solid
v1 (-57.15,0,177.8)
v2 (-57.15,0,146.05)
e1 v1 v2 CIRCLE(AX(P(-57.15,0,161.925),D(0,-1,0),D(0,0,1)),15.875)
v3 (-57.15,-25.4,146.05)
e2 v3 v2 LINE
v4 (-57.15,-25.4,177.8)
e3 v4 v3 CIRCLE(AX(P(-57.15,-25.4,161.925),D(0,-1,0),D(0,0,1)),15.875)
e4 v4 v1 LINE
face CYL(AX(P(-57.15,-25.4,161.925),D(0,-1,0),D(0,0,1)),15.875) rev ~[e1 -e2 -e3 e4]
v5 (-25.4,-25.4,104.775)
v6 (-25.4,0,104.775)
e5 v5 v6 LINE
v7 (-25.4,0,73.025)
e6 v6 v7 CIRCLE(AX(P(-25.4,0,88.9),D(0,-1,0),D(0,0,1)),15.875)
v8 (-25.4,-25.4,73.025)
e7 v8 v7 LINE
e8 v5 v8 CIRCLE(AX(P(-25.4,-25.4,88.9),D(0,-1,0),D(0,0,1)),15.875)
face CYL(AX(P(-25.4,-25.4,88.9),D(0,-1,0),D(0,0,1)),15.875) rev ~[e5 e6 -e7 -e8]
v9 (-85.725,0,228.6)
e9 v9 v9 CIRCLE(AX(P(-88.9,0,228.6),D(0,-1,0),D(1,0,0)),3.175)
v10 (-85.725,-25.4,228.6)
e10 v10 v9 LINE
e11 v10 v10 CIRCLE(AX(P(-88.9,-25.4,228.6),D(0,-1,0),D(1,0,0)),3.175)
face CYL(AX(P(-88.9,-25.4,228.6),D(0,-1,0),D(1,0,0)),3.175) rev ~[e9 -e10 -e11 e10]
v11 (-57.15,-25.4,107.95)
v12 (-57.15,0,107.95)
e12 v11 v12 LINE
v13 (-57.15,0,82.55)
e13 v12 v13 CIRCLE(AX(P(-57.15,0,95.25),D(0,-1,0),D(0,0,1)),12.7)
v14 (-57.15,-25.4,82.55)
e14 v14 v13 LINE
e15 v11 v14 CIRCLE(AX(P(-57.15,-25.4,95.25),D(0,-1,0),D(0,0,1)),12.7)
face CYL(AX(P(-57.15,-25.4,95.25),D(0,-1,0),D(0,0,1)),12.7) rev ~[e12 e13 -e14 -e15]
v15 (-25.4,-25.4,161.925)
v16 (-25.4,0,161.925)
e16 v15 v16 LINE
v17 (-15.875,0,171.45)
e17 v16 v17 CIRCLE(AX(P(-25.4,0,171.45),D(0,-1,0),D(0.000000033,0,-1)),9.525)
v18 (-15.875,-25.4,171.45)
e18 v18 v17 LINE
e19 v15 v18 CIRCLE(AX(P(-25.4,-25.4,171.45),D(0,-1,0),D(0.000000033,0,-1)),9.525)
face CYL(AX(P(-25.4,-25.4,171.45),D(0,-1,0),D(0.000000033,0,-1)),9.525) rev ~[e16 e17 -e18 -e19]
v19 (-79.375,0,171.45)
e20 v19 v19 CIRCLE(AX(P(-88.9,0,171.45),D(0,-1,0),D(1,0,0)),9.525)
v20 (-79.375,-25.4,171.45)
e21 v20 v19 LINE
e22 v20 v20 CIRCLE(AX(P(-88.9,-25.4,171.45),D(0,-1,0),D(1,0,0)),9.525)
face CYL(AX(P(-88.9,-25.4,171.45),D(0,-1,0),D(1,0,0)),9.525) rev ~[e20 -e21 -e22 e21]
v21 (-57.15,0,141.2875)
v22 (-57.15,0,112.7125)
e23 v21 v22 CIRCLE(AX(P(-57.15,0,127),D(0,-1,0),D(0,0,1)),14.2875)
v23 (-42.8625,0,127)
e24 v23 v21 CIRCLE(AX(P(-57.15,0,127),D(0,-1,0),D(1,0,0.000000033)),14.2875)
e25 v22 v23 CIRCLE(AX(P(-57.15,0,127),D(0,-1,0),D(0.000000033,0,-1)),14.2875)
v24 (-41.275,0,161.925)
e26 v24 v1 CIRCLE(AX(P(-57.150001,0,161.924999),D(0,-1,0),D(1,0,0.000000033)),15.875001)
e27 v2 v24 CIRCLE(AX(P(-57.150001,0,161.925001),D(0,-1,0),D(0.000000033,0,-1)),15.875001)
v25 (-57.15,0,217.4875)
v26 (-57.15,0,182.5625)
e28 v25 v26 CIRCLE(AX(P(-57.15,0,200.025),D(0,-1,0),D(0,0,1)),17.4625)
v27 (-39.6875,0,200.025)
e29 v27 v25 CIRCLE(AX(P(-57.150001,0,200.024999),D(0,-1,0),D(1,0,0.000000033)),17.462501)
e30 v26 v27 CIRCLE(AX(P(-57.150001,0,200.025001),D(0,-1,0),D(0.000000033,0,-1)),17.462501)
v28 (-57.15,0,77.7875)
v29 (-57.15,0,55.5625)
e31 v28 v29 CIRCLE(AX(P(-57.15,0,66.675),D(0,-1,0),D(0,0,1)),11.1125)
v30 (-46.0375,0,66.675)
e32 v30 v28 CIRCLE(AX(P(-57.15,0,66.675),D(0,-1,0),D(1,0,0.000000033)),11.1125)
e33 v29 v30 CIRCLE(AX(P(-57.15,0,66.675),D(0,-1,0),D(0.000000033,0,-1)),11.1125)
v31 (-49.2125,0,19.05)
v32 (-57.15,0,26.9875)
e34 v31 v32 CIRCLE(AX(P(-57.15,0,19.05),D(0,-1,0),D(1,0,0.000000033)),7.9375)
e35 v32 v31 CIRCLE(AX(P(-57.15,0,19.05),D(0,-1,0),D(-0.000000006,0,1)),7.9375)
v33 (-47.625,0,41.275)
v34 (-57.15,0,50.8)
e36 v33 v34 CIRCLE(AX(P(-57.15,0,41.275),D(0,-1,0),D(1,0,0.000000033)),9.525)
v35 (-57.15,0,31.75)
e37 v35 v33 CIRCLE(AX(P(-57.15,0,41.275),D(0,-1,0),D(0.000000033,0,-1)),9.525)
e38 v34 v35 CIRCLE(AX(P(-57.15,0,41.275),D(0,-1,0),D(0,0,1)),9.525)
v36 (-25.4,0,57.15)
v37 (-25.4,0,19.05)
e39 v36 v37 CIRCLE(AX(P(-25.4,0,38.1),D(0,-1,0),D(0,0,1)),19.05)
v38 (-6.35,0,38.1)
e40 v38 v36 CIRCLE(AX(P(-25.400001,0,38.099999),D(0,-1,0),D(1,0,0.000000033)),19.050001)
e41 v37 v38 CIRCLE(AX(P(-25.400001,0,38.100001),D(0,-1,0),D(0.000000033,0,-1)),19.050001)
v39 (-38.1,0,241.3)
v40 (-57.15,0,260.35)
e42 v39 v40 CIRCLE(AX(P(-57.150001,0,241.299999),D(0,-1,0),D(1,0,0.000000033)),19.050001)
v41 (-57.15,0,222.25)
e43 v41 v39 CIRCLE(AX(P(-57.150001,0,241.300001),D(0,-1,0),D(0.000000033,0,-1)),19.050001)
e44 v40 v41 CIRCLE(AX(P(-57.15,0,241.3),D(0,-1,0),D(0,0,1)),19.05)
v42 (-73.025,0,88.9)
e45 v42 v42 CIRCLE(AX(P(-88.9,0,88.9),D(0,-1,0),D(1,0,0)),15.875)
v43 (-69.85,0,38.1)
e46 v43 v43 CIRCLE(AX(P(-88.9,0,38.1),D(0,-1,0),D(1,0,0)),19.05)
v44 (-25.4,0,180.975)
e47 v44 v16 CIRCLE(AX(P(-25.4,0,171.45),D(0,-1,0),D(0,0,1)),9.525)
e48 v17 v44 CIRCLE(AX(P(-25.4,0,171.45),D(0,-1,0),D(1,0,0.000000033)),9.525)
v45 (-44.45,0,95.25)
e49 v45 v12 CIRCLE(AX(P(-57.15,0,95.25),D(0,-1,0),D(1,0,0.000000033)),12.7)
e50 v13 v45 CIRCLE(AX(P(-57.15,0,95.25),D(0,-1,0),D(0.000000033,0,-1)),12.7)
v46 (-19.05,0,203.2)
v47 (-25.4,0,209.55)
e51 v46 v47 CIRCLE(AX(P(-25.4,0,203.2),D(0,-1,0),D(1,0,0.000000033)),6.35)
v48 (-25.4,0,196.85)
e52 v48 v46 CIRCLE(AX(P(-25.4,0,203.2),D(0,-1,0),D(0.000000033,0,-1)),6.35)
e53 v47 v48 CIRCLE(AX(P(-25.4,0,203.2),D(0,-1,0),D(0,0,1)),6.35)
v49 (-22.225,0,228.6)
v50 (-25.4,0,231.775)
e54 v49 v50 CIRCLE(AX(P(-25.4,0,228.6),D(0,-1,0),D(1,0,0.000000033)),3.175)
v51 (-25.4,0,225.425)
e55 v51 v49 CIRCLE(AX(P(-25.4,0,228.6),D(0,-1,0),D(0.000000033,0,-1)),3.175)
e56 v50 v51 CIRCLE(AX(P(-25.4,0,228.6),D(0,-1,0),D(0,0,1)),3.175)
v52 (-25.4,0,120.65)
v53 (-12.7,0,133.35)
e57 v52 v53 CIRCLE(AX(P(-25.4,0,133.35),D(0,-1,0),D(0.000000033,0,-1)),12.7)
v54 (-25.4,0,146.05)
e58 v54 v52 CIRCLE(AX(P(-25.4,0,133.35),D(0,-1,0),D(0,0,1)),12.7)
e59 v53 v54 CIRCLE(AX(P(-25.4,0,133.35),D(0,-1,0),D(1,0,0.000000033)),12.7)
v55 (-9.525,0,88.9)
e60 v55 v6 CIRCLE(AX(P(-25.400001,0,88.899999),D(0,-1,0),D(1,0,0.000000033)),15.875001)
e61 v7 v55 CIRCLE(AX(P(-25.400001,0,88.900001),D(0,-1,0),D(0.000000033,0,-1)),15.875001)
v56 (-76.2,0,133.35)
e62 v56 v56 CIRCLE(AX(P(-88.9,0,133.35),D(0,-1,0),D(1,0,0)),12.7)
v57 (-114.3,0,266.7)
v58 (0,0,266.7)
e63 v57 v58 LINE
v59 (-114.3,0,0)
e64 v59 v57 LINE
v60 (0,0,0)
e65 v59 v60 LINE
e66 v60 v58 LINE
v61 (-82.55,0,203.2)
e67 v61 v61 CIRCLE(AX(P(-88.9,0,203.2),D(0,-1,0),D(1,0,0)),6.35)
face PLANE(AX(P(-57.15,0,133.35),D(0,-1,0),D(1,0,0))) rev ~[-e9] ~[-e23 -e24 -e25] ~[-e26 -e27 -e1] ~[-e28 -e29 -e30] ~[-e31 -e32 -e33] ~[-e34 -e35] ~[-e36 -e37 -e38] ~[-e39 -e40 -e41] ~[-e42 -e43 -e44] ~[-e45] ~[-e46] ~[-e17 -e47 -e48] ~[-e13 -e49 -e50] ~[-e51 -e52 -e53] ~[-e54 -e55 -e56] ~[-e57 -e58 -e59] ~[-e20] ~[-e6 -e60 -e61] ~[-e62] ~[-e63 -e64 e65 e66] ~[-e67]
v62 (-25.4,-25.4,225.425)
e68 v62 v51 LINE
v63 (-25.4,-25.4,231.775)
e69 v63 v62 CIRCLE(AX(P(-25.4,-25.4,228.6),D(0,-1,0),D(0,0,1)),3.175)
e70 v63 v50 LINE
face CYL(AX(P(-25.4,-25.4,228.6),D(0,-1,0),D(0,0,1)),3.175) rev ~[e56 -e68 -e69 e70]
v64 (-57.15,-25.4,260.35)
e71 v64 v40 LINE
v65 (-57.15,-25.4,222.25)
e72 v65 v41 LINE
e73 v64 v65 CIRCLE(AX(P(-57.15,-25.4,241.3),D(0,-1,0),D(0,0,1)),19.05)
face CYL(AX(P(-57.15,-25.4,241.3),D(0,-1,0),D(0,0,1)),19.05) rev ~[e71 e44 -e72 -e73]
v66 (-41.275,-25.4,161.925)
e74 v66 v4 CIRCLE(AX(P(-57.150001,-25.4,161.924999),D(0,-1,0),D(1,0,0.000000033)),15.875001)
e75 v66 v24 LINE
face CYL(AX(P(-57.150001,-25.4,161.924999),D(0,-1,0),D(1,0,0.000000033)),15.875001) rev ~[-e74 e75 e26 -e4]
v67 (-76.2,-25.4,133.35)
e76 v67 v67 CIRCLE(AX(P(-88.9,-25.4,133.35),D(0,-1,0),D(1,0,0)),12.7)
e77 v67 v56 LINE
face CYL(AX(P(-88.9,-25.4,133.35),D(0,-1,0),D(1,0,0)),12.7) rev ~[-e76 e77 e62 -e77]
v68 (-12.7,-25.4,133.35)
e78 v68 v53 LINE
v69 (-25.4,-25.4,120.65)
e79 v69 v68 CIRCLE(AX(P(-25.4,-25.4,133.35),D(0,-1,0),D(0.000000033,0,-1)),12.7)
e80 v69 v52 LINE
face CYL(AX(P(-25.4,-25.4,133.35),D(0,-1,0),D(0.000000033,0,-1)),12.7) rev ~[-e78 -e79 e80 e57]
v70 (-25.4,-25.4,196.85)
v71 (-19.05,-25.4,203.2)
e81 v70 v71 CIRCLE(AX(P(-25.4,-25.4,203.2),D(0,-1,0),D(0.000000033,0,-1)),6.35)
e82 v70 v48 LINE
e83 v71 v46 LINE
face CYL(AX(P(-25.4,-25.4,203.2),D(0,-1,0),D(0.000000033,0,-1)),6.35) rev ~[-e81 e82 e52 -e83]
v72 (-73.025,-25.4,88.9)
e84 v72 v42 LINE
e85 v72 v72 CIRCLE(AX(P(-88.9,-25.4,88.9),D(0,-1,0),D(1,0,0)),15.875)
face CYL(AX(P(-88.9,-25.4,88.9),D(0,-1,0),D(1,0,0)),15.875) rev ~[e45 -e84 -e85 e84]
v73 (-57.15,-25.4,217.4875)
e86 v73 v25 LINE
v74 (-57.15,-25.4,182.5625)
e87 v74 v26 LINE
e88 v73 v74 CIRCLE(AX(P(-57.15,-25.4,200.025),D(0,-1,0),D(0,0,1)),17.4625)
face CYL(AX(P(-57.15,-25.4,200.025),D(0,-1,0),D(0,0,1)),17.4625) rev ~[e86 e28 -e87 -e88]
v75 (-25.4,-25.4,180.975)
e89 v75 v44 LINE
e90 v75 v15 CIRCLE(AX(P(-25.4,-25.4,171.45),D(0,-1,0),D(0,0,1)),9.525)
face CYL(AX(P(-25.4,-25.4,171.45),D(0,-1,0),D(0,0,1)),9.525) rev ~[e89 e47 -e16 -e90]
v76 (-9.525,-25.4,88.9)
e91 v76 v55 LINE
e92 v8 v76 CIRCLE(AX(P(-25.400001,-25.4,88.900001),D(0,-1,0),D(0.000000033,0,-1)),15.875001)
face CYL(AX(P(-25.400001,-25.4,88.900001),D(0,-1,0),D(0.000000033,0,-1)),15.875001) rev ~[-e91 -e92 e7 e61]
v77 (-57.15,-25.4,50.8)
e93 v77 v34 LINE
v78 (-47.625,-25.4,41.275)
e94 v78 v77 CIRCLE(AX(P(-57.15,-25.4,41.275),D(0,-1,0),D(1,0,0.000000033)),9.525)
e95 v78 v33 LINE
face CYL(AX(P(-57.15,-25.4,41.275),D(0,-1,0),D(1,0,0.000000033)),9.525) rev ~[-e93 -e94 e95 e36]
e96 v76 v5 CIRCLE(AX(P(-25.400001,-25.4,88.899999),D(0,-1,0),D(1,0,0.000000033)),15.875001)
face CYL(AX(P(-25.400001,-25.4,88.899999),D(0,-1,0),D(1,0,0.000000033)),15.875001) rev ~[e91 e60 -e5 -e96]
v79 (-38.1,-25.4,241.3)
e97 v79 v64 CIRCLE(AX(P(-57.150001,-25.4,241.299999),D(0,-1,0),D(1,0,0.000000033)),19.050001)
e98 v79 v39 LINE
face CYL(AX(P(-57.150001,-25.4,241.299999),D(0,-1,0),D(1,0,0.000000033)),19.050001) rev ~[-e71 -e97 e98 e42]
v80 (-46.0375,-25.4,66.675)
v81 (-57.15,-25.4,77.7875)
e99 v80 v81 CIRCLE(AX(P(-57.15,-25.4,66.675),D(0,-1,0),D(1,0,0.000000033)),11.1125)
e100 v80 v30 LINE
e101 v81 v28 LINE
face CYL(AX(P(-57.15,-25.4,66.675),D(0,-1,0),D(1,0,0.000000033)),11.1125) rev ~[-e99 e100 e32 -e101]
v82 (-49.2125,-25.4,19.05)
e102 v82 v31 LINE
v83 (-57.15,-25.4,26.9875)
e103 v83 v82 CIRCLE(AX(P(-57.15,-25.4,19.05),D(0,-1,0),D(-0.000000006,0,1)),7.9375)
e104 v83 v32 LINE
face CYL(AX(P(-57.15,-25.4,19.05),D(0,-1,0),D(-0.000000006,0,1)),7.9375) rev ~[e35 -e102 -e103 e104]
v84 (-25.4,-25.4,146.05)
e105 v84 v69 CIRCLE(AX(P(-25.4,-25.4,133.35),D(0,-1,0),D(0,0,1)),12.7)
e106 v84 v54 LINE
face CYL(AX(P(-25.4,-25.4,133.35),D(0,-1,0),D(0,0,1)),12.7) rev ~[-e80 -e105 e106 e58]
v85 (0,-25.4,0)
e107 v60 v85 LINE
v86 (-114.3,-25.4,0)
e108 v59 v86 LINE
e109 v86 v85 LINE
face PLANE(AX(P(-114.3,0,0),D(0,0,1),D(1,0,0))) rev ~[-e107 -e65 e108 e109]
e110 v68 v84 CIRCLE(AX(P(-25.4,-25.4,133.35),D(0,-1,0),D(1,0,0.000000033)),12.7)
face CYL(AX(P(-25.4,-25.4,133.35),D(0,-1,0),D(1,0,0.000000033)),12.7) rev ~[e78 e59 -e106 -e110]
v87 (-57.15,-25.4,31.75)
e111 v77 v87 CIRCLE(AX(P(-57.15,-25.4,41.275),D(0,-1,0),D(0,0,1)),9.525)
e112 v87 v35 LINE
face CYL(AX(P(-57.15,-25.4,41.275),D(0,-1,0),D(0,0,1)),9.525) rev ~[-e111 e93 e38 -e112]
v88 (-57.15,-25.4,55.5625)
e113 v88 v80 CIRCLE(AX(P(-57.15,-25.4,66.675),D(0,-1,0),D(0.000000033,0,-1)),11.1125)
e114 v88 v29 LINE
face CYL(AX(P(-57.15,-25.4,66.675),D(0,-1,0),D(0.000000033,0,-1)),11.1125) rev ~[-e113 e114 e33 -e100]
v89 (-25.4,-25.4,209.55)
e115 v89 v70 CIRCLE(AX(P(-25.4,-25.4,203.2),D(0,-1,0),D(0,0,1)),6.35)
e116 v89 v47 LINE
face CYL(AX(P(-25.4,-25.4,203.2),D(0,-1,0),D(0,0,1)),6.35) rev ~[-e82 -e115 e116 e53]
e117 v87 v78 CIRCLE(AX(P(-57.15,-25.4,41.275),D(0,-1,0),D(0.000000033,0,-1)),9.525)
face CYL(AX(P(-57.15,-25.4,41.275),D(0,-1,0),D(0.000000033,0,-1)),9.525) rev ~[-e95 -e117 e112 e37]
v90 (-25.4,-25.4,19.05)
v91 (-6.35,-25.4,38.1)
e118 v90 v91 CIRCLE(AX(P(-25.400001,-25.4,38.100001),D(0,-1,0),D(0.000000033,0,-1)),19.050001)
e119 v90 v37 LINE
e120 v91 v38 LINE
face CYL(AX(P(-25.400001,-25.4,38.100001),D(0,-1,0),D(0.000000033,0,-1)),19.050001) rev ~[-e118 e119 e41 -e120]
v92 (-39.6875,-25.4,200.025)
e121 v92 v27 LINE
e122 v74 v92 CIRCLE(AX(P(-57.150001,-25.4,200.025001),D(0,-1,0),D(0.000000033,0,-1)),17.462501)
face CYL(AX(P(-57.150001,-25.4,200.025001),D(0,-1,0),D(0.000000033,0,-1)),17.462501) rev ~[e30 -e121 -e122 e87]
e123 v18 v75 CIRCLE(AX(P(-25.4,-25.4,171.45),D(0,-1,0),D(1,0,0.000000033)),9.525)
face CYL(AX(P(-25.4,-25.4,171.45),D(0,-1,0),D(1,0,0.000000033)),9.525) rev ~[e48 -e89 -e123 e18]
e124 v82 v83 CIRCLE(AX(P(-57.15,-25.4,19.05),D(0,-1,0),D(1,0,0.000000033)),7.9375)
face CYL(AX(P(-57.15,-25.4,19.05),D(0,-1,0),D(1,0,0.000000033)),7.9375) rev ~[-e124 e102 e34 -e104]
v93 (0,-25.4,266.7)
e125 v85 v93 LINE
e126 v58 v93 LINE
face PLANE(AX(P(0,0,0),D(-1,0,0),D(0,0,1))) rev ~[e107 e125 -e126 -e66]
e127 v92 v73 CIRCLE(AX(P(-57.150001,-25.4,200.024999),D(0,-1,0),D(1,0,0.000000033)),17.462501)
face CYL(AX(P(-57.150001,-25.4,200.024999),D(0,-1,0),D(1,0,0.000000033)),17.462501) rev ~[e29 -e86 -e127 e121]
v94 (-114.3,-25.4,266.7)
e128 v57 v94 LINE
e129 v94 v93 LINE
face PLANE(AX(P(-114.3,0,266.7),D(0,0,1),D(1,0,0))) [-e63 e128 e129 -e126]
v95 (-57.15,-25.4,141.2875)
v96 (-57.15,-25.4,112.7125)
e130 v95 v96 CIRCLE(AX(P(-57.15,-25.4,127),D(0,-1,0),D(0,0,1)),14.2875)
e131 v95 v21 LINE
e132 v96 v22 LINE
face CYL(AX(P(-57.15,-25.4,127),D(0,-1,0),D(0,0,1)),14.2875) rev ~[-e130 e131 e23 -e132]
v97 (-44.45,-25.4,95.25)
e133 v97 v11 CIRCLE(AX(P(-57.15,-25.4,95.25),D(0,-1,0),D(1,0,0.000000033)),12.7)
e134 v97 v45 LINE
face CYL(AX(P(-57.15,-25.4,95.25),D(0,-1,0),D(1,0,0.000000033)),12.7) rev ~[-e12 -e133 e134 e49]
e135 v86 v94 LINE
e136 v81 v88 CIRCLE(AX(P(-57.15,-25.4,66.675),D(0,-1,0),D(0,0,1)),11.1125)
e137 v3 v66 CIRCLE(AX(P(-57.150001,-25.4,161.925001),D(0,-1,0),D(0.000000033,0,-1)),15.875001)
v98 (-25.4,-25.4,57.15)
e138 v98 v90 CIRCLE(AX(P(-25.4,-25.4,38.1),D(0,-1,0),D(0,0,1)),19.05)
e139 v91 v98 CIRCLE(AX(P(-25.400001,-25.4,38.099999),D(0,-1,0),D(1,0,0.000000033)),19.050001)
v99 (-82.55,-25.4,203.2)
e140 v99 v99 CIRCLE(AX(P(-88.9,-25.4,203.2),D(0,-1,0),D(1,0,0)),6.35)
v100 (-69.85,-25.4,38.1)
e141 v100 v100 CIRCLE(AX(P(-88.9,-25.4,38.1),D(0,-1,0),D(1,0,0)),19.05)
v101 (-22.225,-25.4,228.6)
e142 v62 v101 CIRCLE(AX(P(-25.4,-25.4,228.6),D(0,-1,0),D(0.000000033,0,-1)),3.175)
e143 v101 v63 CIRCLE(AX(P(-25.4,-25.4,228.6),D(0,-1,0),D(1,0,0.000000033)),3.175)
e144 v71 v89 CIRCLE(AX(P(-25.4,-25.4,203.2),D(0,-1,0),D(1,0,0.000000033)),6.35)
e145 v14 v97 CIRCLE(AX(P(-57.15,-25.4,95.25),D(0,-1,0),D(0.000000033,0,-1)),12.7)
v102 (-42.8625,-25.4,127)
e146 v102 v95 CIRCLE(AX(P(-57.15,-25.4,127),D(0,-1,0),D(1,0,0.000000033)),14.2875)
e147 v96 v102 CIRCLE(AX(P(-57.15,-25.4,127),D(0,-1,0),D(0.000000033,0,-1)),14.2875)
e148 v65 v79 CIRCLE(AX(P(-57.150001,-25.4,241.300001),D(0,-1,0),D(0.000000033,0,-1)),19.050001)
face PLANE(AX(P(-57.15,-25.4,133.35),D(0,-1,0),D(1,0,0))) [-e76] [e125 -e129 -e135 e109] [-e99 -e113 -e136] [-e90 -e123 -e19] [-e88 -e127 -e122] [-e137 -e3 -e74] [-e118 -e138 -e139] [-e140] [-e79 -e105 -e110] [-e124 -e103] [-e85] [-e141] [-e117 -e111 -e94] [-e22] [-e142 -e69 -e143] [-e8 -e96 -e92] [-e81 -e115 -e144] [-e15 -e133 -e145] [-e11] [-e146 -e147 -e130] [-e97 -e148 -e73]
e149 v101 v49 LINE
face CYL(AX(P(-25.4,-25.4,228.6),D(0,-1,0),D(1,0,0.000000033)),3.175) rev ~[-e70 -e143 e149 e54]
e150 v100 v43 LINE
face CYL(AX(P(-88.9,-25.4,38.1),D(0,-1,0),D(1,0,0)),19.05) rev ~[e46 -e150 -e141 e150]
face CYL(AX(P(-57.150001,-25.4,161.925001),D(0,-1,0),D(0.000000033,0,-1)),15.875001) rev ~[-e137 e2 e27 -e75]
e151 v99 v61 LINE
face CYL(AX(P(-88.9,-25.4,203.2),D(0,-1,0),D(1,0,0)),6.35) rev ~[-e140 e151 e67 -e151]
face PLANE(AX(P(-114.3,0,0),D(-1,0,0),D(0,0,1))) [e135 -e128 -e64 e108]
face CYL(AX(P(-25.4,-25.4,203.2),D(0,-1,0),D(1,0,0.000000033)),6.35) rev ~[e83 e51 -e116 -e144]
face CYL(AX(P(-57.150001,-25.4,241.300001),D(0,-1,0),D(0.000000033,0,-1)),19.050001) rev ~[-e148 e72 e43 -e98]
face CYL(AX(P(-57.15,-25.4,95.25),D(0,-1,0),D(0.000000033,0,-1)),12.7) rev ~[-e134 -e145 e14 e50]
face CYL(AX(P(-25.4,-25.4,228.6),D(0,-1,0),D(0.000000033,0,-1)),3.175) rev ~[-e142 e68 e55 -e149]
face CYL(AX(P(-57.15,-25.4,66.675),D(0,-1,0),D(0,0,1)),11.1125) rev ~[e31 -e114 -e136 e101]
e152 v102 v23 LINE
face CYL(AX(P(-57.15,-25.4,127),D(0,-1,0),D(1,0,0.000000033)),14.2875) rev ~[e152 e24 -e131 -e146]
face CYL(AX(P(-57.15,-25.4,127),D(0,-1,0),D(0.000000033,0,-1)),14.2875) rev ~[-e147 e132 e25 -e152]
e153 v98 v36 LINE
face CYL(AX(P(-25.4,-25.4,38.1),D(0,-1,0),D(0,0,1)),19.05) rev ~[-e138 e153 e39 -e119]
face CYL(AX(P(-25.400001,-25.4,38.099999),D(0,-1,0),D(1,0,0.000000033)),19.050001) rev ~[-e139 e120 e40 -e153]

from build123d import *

# Parameters (mm, degrees)
F0_W     = 114.3
F0_H     = 266.7
F1_DEPTH = 25.4
F2_R     = 3.175
F2_R_2   = 6.35
F2_R_3   = 9.525
F2_R_4   = 12.7
F2_R_5   = 15.875
F2_R_6   = 19.05
F3_DEPTH = 25.4
F5_DEPTH = 25.4


with BuildPart() as f1:
    # F0 (on Front) → F1 (new body)
    with BuildSketch(Plane.XZ):
        with Locations((-57.15, 133.35)):
            Rectangle(F0_W, F0_H)
    extrude(amount=F1_DEPTH)

    # F2 (on face) → F3 (cut)
    with BuildSketch(Plane.XZ.offset(25.4)):
        with BuildLine():
            ThreePointArc((-25.4, 57.15), (-44.45, 38.1), (-25.4, 19.05))
            Line((-25.4, 19.05), (-25.4, 38.1))
            Line((-25.4, 38.1), (-25.4, 57.15))
        make_face()
        with BuildLine():
            ThreePointArc((-25.4, 231.775), (-28.575, 228.6), (-25.4, 225.425))
            Line((-25.4, 225.425), (-25.4, 228.6))
            Line((-25.4, 228.6), (-25.4, 231.775))
        make_face()
        with BuildLine():
            Line((-25.4, 228.6), (-25.4, 225.425))
            ThreePointArc((-25.4, 225.425), (-23.154936, 226.354936), (-22.225, 228.6))
            ThreePointArc((-22.225, 228.6), (-23.154936, 230.845064), (-25.4, 231.775))
            Line((-25.4, 231.775), (-25.4, 228.6))
        make_face()
        with BuildLine():
            ThreePointArc((-25.4, 209.55), (-31.75, 203.2), (-25.4, 196.85))
            Line((-25.4, 196.85), (-25.4, 203.2))
            Line((-25.4, 203.2), (-25.4, 209.55))
        make_face()
        with BuildLine():
            Line((-25.4, 203.2), (-25.4, 196.85))
            ThreePointArc((-25.4, 196.85), (-20.909872, 198.709872), (-19.05, 203.2))
            ThreePointArc((-19.05, 203.2), (-20.909872, 207.690128), (-25.4, 209.55))
            Line((-25.4, 209.55), (-25.4, 203.2))
        make_face()
        with BuildLine():
            ThreePointArc((-25.4, 180.975), (-34.925, 171.45), (-25.4, 161.925))
            Line((-25.4, 161.925), (-25.4, 171.45))
            Line((-25.4, 171.45), (-25.4, 180.975))
        make_face()
        with BuildLine():
            Line((-25.4, 171.45), (-25.4, 161.925))
            ThreePointArc((-25.4, 161.925), (-18.664808, 164.714808), (-15.875, 171.45))
            ThreePointArc((-15.875, 171.45), (-18.664808, 178.185192), (-25.4, 180.975))
            Line((-25.4, 180.975), (-25.4, 171.45))
        make_face()
        with BuildLine():
            ThreePointArc((-25.4, 146.05), (-38.1, 133.35), (-25.4, 120.65))
            Line((-25.4, 120.65), (-25.4, 133.35))
            Line((-25.4, 133.35), (-25.4, 146.05))
        make_face()
        with BuildLine():
            Line((-25.4, 133.35), (-25.4, 120.65))
            ThreePointArc((-25.4, 120.65), (-16.419744, 124.369744), (-12.7, 133.35))
            ThreePointArc((-12.7, 133.35), (-16.419744, 142.330256), (-25.4, 146.05))
            Line((-25.4, 146.05), (-25.4, 133.35))
        make_face()
        with BuildLine():
            ThreePointArc((-25.4, 104.775), (-41.275, 88.9), (-25.4, 73.025))
            Line((-25.4, 73.025), (-25.4, 88.9))
            Line((-25.4, 88.9), (-25.4, 104.775))
        make_face()
        with BuildLine():
            Line((-25.4, 88.9), (-25.4, 73.025))
            ThreePointArc((-25.4, 73.025), (-14.17468, 77.67468), (-9.525, 88.9))
            ThreePointArc((-9.525, 88.9), (-14.17468, 100.12532), (-25.4, 104.775))
            Line((-25.4, 104.775), (-25.4, 88.9))
        make_face()
        with BuildLine():
            Line((-25.4, 38.1), (-25.4, 19.05))
            ThreePointArc((-25.4, 19.05), (-11.929616, 24.629616), (-6.35, 38.1))
            ThreePointArc((-6.35, 38.1), (-11.929616, 51.570384), (-25.4, 57.15))
            Line((-25.4, 57.15), (-25.4, 38.1))
        make_face()
        with Locations((-88.9, 228.6)):
            Circle(F2_R)
        with Locations((-88.9, 203.2)):
            Circle(F2_R_2)
        with Locations((-88.9, 171.45)):
            Circle(F2_R_3)
        with Locations((-88.9, 133.35)):
            Circle(F2_R_4)
        with Locations((-88.9, 88.9)):
            Circle(F2_R_5)
        with Locations((-88.9, 38.1)):
            Circle(F2_R_6)
    extrude(amount=-F3_DEPTH, mode=Mode.SUBTRACT)

    # F4 (on face) → F5 (cut)
    with BuildSketch(Plane.XZ.offset(25.4)):
        with BuildLine():
            ThreePointArc((-57.15, 260.35), (-76.2, 241.3), (-57.15, 222.25))
            Line((-57.15, 222.25), (-57.15, 241.3))
            Line((-57.15, 241.3), (-57.15, 260.35))
        make_face()
        with BuildLine():
            Line((-57.15, 241.3), (-57.15, 222.25))
            ThreePointArc((-57.15, 222.25), (-43.679616, 227.829616), (-38.1, 241.3))
            ThreePointArc((-38.1, 241.3), (-43.679616, 254.770384), (-57.15, 260.35))
            Line((-57.15, 260.35), (-57.15, 241.3))
        make_face()
        with BuildLine():
            ThreePointArc((-57.15, 217.4875), (-74.6125, 200.025), (-57.15, 182.5625))
            Line((-57.15, 182.5625), (-57.15, 200.025))
            Line((-57.15, 200.025), (-57.15, 217.4875))
        make_face()
        with BuildLine():
            Line((-57.15, 200.025), (-57.15, 182.5625))
            ThreePointArc((-57.15, 182.5625), (-44.802148, 187.677148), (-39.6875, 200.025))
            ThreePointArc((-39.6875, 200.025), (-44.802148, 212.372852), (-57.15, 217.4875))
            Line((-57.15, 217.4875), (-57.15, 200.025))
        make_face()
        with BuildLine():
            ThreePointArc((-57.15, 177.8), (-73.025, 161.925), (-57.15, 146.05))
            Line((-57.15, 146.05), (-57.15, 161.925))
            Line((-57.15, 161.925), (-57.15, 177.8))
        make_face()
        with BuildLine():
            Line((-57.15, 161.925), (-57.15, 146.05))
            ThreePointArc((-57.15, 146.05), (-45.92468, 150.69968), (-41.275, 161.925))
            ThreePointArc((-41.275, 161.925), (-45.92468, 173.15032), (-57.15, 177.8))
            Line((-57.15, 177.8), (-57.15, 161.925))
        make_face()
        with BuildLine():
            ThreePointArc((-57.15, 141.2875), (-71.4375, 127), (-57.15, 112.7125))
            Line((-57.15, 112.7125), (-57.15, 127))
            Line((-57.15, 127), (-57.15, 141.2875))
        make_face()
        with BuildLine():
            Line((-57.15, 127), (-57.15, 112.7125))
            ThreePointArc((-57.15, 112.7125), (-47.047212, 116.897212), (-42.8625, 127))
            ThreePointArc((-42.8625, 127), (-47.047212, 137.102788), (-57.15, 141.2875))
            Line((-57.15, 141.2875), (-57.15, 127))
        make_face()
        with BuildLine():
            ThreePointArc((-57.15, 107.95), (-69.85, 95.25), (-57.15, 82.55))
            Line((-57.15, 82.55), (-57.15, 95.25))
            Line((-57.15, 95.25), (-57.15, 107.95))
        make_face()
        with BuildLine():
            Line((-57.15, 95.25), (-57.15, 82.55))
            ThreePointArc((-57.15, 82.55), (-48.169744, 86.269744), (-44.45, 95.25))
            ThreePointArc((-44.45, 95.25), (-48.169744, 104.230256), (-57.15, 107.95))
            Line((-57.15, 107.95), (-57.15, 95.25))
        make_face()
        with BuildLine():
            ThreePointArc((-57.15, 77.7875), (-68.2625, 66.675), (-57.15, 55.5625))
            Line((-57.15, 55.5625), (-57.15, 66.675))
            Line((-57.15, 66.675), (-57.15, 77.7875))
        make_face()
        with BuildLine():
            Line((-57.15, 66.675), (-57.15, 55.5625))
            ThreePointArc((-57.15, 55.5625), (-49.292276, 58.817276), (-46.0375, 66.675))
            ThreePointArc((-46.0375, 66.675), (-49.292276, 74.532724), (-57.15, 77.7875))
            Line((-57.15, 77.7875), (-57.15, 66.675))
        make_face()
        with BuildLine():
            ThreePointArc((-57.15, 50.8), (-66.675, 41.275), (-57.15, 31.75))
            Line((-57.15, 31.75), (-57.15, 41.275))
            Line((-57.15, 41.275), (-57.15, 50.8))
        make_face()
        with BuildLine():
            Line((-57.15, 41.275), (-57.15, 31.75))
            ThreePointArc((-57.15, 31.75), (-50.414808, 34.539808), (-47.625, 41.275))
            ThreePointArc((-47.625, 41.275), (-50.414808, 48.010192), (-57.15, 50.8))
            Line((-57.15, 50.8), (-57.15, 41.275))
        make_face()
        with BuildLine():
            ThreePointArc((-49.2125, 19.05), (-51.53734, 24.66266), (-57.15, 26.9875))
            ThreePointArc((-57.15, 26.9875), (-62.76266, 13.43734), (-49.2125, 19.05))
        make_face()
    extrude(amount=-F5_DEPTH, mode=Mode.SUBTRACT)


solid = f1.part
